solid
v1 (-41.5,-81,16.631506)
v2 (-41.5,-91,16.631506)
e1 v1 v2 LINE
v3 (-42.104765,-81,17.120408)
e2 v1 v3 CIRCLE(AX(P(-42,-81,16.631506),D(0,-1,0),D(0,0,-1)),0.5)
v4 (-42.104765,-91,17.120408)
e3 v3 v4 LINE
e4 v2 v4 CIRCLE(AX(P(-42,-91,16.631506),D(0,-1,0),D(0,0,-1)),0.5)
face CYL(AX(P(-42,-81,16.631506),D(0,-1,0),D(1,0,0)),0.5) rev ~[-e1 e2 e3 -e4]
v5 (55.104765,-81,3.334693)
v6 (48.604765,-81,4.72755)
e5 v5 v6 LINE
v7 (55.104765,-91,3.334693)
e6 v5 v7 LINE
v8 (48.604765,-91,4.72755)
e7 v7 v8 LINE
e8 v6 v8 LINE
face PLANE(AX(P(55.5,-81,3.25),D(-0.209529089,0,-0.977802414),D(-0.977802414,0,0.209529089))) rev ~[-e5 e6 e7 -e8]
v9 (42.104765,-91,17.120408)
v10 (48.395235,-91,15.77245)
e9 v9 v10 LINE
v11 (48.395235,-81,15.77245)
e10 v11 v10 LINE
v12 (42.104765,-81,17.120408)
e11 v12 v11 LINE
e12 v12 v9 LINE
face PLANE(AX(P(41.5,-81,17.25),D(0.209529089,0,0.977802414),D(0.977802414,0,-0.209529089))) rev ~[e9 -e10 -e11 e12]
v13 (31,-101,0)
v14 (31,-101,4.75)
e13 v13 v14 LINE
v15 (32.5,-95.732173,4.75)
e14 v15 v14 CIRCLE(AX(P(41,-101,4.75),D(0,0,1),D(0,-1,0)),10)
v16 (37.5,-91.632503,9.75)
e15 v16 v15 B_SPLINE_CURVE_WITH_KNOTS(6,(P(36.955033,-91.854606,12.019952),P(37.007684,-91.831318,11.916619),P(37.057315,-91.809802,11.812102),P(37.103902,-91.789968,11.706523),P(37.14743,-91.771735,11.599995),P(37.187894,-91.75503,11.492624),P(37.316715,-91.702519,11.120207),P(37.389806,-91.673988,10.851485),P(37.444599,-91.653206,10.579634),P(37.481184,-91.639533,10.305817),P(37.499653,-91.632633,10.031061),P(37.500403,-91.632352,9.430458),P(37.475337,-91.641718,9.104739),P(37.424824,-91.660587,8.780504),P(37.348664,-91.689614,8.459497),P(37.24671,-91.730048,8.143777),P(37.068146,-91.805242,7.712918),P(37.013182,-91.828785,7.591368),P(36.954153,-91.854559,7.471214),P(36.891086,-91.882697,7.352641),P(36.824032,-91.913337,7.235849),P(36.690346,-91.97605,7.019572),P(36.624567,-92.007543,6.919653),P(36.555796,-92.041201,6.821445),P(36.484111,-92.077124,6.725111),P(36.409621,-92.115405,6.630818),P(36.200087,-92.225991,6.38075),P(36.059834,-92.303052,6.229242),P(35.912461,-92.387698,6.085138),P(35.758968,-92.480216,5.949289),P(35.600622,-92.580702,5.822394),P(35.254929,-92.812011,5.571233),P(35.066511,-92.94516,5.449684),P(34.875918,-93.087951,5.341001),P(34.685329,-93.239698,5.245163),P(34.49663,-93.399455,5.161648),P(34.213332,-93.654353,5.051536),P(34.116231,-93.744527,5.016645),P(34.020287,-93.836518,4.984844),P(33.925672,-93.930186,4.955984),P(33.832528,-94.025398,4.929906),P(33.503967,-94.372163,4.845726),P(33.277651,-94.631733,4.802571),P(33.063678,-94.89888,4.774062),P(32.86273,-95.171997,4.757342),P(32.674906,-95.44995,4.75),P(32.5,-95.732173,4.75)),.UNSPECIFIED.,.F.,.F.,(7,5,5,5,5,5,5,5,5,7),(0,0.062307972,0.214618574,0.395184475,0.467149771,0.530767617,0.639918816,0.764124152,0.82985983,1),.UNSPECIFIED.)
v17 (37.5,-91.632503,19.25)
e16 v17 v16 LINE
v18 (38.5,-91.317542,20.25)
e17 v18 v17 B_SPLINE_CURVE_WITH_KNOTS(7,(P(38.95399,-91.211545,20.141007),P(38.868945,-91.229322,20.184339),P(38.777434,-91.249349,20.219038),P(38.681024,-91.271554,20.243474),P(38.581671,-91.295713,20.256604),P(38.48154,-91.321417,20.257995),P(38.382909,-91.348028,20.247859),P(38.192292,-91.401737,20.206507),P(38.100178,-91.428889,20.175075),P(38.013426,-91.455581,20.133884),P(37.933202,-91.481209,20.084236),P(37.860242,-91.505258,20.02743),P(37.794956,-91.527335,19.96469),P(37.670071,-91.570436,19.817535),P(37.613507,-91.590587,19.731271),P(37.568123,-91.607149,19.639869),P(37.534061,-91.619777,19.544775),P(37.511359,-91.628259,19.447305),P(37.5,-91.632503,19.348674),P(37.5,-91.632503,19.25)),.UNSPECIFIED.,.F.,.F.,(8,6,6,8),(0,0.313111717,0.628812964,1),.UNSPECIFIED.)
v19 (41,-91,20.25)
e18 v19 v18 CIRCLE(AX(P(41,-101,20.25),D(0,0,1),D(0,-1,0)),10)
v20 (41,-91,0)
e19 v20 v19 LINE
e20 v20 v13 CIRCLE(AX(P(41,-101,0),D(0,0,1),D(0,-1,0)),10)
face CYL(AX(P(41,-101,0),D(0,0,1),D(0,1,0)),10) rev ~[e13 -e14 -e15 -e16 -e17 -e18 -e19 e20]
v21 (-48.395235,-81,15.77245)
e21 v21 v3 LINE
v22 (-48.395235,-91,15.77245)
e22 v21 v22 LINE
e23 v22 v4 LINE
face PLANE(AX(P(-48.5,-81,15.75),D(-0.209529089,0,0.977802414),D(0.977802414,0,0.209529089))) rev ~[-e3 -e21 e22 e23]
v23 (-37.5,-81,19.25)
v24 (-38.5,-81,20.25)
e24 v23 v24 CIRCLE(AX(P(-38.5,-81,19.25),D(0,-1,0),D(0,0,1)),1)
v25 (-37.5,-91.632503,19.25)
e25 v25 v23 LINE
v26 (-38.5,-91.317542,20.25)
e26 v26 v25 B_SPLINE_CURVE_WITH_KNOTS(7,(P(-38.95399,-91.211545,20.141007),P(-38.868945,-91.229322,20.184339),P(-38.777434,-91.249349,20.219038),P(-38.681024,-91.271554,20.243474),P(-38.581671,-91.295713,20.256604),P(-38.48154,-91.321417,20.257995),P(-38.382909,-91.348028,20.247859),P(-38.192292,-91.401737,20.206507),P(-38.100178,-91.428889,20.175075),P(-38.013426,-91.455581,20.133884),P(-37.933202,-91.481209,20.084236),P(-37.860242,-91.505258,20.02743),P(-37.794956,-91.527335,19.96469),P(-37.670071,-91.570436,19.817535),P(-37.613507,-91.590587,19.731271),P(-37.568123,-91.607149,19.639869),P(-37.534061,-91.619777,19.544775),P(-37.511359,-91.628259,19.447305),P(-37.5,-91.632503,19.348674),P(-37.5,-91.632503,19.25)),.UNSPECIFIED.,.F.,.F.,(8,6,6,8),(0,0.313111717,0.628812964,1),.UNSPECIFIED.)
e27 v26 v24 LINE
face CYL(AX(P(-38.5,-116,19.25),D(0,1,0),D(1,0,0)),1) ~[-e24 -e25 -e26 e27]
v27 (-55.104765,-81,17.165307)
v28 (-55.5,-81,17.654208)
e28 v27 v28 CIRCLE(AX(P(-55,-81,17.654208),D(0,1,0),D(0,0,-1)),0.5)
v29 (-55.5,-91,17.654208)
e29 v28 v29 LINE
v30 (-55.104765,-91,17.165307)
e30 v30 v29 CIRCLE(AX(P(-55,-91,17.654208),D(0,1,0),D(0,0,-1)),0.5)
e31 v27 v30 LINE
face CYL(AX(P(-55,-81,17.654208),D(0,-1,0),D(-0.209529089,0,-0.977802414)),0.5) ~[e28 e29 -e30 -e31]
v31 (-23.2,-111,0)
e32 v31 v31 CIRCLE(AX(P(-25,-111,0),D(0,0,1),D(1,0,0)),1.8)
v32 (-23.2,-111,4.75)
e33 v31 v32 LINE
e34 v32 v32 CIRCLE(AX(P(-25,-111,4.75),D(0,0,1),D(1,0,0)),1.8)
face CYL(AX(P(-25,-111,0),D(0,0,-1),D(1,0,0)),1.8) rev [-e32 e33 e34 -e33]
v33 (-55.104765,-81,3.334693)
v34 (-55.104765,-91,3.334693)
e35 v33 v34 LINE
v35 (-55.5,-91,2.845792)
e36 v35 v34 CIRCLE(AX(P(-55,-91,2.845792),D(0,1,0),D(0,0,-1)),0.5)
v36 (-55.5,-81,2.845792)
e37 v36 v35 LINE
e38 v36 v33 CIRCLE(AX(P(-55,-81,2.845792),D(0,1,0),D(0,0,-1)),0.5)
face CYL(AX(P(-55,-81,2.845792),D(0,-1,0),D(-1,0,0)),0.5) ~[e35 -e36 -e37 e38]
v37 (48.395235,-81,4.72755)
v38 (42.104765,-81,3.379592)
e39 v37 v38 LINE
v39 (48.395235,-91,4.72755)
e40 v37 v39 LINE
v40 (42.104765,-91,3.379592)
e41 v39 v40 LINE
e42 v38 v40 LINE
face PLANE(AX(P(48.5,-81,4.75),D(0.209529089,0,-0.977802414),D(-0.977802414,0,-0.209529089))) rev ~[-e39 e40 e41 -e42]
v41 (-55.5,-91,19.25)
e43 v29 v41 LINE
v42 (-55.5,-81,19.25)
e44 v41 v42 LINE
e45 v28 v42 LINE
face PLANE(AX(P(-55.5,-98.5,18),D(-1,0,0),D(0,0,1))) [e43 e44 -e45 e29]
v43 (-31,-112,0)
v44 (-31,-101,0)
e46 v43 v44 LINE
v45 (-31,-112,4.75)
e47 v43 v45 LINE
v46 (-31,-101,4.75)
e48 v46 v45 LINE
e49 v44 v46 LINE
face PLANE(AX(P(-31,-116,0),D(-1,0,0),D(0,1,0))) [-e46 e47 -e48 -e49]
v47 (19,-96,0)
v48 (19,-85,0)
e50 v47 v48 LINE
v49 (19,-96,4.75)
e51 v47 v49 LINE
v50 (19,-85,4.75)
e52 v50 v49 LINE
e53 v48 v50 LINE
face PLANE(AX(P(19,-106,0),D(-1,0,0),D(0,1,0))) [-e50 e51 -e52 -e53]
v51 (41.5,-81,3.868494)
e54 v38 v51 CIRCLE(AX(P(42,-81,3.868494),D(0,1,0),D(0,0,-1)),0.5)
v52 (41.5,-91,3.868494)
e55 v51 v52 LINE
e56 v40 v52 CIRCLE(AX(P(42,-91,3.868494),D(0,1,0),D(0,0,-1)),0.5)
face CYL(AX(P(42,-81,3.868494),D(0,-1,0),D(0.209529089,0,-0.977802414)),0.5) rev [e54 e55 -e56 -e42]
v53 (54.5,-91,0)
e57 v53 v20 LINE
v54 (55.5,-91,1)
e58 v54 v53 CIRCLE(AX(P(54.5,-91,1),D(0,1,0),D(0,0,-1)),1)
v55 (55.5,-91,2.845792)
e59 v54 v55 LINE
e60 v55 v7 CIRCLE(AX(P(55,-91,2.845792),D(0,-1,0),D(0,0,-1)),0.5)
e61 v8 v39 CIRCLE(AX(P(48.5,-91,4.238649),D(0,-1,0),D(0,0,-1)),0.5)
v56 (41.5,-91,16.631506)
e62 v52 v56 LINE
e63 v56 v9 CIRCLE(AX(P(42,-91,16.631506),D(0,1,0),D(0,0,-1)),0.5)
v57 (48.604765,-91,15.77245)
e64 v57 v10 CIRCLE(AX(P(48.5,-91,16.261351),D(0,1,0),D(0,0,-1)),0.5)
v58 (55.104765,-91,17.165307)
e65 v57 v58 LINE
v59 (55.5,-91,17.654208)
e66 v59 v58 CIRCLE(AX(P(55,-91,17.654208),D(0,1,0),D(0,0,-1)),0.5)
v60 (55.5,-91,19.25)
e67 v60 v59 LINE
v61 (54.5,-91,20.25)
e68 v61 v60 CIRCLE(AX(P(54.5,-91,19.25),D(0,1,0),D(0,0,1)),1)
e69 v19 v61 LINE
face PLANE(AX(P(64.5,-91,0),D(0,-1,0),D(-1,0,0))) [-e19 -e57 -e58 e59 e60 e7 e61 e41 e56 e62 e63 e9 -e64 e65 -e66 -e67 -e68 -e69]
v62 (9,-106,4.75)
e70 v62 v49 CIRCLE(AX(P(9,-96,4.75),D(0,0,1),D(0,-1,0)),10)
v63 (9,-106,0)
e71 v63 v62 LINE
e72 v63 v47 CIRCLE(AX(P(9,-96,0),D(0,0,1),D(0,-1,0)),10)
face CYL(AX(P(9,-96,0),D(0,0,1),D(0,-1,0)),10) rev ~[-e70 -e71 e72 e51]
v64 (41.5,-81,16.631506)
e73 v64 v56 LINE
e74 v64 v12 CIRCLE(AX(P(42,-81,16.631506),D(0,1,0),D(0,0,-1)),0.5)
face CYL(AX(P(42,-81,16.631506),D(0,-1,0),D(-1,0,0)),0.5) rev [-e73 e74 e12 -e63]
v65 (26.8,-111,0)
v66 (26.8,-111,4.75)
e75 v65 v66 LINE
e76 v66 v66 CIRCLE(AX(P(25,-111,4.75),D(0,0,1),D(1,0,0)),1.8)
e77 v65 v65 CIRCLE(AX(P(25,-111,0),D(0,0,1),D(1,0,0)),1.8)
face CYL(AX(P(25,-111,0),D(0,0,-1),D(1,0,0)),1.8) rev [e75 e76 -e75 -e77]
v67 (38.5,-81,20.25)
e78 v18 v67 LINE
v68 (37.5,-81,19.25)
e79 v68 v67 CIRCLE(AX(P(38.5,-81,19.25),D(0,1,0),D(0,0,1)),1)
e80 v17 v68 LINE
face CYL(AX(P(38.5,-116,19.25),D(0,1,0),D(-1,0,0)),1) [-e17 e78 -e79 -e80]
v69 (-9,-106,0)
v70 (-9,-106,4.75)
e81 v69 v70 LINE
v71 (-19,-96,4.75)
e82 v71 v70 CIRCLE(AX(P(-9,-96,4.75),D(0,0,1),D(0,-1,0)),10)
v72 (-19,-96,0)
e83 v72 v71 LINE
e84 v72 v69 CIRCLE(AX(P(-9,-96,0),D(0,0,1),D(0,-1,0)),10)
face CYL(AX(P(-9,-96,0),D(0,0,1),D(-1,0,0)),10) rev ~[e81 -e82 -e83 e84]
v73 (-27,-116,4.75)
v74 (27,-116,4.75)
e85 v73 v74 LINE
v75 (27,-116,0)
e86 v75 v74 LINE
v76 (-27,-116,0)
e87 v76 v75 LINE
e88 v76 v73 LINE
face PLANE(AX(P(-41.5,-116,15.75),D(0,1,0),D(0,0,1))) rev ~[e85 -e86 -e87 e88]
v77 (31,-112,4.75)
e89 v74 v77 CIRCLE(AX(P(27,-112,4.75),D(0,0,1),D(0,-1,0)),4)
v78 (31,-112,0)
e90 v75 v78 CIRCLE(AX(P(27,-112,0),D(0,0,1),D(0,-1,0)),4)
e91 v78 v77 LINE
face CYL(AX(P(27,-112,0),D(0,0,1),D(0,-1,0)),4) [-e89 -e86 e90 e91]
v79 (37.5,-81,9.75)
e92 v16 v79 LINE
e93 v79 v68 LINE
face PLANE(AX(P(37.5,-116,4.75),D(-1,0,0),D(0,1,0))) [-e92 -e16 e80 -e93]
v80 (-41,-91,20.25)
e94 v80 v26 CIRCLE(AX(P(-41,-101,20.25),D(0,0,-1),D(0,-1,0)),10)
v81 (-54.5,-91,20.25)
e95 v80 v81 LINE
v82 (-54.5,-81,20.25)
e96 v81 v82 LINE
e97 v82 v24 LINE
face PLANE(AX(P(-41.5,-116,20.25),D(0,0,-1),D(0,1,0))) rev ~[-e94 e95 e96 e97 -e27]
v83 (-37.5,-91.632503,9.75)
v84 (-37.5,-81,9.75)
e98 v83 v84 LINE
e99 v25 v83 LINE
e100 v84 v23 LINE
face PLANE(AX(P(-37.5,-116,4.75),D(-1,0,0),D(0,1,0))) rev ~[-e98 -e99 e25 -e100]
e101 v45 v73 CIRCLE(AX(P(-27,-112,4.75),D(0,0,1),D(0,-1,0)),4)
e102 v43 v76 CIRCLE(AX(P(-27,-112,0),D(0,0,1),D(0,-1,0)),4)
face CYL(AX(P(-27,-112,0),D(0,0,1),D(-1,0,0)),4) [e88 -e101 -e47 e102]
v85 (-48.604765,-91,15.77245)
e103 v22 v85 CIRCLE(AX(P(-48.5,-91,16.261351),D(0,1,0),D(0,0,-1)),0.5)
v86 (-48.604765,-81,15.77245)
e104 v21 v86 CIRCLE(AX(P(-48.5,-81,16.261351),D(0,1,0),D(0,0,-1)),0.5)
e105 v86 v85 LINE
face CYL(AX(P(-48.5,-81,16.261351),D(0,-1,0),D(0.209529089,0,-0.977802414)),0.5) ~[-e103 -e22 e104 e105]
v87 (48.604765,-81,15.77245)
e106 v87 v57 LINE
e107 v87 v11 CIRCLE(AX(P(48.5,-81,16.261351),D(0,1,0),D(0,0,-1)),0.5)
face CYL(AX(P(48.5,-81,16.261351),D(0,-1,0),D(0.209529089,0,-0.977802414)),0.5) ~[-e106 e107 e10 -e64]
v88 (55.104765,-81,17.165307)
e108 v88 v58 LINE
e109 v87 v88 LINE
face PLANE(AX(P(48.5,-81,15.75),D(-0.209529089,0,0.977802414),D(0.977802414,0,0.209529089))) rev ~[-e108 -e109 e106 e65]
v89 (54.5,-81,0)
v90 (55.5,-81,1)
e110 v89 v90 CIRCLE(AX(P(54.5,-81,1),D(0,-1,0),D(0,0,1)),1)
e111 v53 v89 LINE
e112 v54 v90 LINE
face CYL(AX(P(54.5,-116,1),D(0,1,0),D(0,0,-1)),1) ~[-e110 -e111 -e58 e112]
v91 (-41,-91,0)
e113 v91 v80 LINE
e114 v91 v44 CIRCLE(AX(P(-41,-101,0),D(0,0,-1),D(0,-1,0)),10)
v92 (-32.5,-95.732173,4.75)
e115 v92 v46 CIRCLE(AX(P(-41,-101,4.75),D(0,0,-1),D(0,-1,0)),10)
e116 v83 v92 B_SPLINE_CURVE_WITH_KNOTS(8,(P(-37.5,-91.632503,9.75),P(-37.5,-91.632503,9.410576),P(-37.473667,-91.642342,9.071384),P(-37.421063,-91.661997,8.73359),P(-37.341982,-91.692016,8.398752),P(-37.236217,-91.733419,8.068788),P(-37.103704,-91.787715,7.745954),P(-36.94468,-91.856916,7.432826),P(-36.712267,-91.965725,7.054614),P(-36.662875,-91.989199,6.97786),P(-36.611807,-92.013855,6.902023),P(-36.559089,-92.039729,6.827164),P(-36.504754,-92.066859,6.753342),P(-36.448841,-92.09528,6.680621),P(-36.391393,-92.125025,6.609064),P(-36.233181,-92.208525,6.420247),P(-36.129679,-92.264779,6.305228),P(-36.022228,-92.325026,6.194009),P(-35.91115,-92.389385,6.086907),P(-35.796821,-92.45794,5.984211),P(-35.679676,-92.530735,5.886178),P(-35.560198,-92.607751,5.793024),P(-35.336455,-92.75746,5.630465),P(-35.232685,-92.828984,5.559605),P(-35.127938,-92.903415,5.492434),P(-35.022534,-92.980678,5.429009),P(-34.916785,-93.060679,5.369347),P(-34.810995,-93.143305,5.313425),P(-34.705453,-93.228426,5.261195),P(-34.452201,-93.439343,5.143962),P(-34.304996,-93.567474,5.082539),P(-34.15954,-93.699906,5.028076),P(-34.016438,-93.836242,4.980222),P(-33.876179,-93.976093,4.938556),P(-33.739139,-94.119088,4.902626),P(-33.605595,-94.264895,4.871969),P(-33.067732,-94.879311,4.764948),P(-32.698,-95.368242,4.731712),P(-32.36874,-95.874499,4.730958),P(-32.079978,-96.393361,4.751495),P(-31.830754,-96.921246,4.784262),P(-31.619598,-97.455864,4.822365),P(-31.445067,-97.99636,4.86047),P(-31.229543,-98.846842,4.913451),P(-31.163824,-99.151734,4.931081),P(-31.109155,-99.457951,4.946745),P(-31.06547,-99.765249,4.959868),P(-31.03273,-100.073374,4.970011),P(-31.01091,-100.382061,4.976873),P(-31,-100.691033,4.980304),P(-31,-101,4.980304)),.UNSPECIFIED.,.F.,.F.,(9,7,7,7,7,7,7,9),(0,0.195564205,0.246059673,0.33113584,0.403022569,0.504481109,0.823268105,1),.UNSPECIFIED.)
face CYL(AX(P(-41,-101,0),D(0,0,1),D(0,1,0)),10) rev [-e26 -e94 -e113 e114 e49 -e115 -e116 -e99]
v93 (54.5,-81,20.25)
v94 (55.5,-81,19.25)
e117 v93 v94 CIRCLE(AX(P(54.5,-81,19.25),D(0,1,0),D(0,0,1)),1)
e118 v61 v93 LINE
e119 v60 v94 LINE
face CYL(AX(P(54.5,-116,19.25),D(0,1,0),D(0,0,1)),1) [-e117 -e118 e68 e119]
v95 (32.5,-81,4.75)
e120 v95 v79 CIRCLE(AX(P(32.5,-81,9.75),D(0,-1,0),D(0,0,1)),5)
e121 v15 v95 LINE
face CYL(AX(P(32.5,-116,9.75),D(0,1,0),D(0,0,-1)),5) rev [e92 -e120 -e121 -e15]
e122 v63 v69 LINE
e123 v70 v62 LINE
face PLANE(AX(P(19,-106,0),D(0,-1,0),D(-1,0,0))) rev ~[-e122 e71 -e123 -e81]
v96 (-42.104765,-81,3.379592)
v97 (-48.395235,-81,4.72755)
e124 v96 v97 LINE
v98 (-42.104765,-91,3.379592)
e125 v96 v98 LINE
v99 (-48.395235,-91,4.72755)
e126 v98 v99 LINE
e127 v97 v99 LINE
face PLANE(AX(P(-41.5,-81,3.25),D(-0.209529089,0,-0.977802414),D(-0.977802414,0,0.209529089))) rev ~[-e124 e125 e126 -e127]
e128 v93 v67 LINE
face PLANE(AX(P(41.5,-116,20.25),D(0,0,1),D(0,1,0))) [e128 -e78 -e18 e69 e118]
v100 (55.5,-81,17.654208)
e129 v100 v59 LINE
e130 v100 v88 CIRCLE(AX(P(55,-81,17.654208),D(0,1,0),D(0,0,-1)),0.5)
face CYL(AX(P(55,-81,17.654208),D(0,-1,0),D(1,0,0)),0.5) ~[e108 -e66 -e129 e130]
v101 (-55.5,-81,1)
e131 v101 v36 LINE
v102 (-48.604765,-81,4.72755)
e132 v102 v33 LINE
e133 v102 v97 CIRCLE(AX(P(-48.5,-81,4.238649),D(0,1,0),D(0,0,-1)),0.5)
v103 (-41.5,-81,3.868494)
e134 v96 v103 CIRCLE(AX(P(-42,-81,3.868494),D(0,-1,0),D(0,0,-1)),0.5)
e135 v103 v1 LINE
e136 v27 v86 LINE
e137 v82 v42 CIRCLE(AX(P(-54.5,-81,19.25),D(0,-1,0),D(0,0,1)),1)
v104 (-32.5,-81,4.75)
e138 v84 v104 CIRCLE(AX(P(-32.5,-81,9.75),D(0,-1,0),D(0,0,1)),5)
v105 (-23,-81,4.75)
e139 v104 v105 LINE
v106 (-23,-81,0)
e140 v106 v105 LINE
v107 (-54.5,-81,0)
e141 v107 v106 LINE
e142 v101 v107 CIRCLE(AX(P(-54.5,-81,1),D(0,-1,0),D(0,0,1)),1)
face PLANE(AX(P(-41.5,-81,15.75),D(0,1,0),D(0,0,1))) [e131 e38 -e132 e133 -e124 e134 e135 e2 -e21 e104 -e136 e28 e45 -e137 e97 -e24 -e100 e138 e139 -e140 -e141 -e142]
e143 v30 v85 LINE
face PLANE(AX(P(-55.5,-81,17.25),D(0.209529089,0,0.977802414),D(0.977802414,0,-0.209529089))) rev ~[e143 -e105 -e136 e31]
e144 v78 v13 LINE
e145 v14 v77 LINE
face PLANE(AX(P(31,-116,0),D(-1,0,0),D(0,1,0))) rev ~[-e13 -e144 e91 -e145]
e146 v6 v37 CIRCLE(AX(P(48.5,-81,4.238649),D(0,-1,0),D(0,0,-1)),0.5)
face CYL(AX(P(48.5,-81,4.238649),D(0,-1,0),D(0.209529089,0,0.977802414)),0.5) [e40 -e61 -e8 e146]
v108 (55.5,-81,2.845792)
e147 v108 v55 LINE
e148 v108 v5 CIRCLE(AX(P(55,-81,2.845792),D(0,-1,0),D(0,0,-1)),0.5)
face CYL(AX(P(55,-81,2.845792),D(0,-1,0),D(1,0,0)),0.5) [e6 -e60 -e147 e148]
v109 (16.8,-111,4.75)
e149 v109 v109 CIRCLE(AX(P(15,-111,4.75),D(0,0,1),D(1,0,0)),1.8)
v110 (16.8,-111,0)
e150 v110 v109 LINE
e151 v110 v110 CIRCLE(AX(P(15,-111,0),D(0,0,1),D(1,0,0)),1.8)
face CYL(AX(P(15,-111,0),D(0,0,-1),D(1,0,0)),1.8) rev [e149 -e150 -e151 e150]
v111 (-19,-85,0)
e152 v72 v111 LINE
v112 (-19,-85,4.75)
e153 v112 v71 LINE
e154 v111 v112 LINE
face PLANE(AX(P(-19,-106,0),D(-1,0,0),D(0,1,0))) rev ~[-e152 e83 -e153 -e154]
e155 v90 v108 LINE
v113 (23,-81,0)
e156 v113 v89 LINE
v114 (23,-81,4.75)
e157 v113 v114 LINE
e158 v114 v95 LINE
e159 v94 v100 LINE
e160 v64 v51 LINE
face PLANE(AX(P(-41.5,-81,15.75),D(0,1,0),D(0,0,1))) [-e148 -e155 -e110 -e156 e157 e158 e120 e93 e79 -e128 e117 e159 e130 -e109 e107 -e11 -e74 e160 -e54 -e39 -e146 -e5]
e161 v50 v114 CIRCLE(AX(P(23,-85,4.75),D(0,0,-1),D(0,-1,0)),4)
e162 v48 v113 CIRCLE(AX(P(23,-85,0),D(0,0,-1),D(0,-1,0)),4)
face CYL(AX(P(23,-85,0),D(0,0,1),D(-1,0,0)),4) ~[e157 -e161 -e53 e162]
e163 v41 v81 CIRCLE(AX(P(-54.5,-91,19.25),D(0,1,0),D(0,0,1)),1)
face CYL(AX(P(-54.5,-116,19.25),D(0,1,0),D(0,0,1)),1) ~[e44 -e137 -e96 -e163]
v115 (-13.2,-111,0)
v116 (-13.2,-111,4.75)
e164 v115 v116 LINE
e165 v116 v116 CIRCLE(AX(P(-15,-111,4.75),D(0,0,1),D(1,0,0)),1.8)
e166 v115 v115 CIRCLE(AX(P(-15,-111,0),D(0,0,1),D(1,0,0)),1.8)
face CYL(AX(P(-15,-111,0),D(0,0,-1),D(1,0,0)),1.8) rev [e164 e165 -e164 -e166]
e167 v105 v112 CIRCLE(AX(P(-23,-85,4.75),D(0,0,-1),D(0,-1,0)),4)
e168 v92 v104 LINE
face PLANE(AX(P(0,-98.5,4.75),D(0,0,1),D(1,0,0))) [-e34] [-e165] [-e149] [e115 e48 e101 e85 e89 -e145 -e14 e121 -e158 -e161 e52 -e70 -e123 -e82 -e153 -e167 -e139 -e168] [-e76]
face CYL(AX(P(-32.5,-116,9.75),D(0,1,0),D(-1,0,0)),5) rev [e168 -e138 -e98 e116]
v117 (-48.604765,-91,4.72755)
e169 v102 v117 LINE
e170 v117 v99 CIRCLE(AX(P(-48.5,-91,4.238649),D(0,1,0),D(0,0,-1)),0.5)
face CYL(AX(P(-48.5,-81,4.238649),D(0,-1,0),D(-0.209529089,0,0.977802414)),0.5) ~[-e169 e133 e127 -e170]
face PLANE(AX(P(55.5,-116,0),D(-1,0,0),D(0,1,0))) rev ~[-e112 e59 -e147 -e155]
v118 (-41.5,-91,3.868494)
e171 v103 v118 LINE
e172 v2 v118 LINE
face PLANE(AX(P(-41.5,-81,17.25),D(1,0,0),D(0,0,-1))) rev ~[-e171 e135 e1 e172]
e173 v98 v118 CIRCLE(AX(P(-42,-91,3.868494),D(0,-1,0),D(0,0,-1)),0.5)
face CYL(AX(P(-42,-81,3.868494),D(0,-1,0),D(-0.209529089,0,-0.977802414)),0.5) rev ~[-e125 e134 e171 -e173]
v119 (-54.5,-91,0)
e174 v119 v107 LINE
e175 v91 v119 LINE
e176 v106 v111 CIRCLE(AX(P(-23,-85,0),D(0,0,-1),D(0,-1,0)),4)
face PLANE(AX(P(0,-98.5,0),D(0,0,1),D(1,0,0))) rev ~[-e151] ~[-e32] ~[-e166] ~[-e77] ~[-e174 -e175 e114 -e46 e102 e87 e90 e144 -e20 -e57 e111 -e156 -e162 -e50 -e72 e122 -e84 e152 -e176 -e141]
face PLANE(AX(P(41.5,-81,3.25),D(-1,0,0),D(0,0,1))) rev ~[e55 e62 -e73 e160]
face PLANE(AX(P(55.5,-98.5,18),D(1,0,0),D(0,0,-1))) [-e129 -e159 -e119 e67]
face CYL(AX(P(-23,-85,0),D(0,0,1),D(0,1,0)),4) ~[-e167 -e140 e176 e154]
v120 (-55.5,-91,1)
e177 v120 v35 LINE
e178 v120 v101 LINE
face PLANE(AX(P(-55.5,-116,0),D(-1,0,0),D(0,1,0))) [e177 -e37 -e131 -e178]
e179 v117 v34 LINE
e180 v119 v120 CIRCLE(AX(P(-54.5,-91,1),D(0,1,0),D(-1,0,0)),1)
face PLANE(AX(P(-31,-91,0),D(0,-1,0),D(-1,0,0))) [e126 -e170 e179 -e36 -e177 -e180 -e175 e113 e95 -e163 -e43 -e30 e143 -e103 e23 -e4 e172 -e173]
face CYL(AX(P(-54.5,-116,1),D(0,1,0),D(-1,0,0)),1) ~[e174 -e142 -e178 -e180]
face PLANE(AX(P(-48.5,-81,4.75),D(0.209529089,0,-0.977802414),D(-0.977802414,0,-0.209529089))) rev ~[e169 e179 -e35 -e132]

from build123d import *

# Parameters (mm, degrees)
SKETCH_1_W          = 111
SKETCH_1_H          = 35
SKETCH_1_R          = 1.8
EXTRUDE_1_DEPTH     = 4.75
SKETCH_2_W          = 4
SKETCH_2_H          = 35
EXTRUDE_2_DEPTH     = 15.5
SKETCH_3_W          = 4.5
SKETCH_3_H          = 35
EXTRUDE_3_DEPTH     = 14
SKETCH_4_W          = 4.5
SKETCH_4_H          = 35
EXTRUDE_4_DEPTH     = 14
FILLET_1_R          = 5
FILLET_2_R          = 1
SKETCH_5_W          = 20
SKETCH_5_H          = 2
CUT_EXTRUDE_1_DEPTH = 1
CUT_EXTRUDE_2_DEPTH = 200
SKETCH_8_W          = 33.5
SKETCH_8_H          = 25
SKETCH_8_W_2        = 38
CUT_EXTRUDE_3_DEPTH = 1000
FILLET_8_R          = 10
FILLET_9_R          = 4
FILLET_10_R         = 0.5


with BuildPart() as part:
    # ｽｹｯﾁ1 → ﾎﾞｽ - 押し出し1 (new body)
    with BuildSketch(Plane.XY):
        with Locations((0, -98.5)):
            Rectangle(SKETCH_1_W, SKETCH_1_H)
        with Locations((25, -111)):
            Circle(SKETCH_1_R, mode=Mode.SUBTRACT)
        with Locations((15, -111)):
            Circle(SKETCH_1_R, mode=Mode.SUBTRACT)
        with Locations((-15, -111)):
            Circle(SKETCH_1_R, mode=Mode.SUBTRACT)
        with Locations((-25, -111)):
            Circle(SKETCH_1_R, mode=Mode.SUBTRACT)
    extrude(amount=EXTRUDE_1_DEPTH)

    # ｽｹｯﾁ2 → ﾎﾞｽ - 押し出し2 (add)
    with BuildSketch(Plane.XY.offset(4.75)):
        with Locations((39.5, -98.5)):
            Rectangle(SKETCH_2_W, SKETCH_2_H)
        with Locations((-39.5, -98.5)):
            Rectangle(SKETCH_2_W, SKETCH_2_H)
    extrude(amount=EXTRUDE_2_DEPTH)

    # ｽｹｯﾁ3 → ﾎﾞｽ - 押し出し3 (add)
    with BuildSketch(Plane(origin=(41.5, 0, 0), x_dir=(0, 0, -1), z_dir=(1, 0, 0))):
        with Locations((-18, -98.5)):
            Rectangle(SKETCH_3_W, SKETCH_3_H)
    extrude(amount=EXTRUDE_3_DEPTH)

    # ｽｹｯﾁ4 → ﾎﾞｽ - 押し出し4 (add)
    with BuildSketch(Plane.ZY.offset(41.5)):
        with Locations((18, -98.5)):
            Rectangle(SKETCH_4_W, SKETCH_4_H)
    extrude(amount=EXTRUDE_4_DEPTH)

    # ﾌｨﾚｯﾄ1
    fillet_1_edges = [part.edges().sort_by_distance(p)[0] for p in [
        (37.5, -98.5, 4.75),
        (-37.5, -98.5, 4.75),
    ]]
    fillet(fillet_1_edges, radius=FILLET_1_R)

    # ﾌｨﾚｯﾄ2
    fillet_2_edges = [part.edges().sort_by_distance(p)[0] for p in [
        (37.5, -98.5, 20.25),
        (-37.5, -98.5, 20.25),
        (-55.5, -98.5, 0),
        (55.5, -98.5, 20.25),
        (55.5, -98.5, 0),
        (-55.5, -98.5, 20.25),
    ]]
    fillet(fillet_2_edges, radius=FILLET_2_R)

    # ｽｹｯﾁ5 → ｶｯﾄ - 押し出し1 (cut)
    with BuildSketch(Plane(origin=(0, -81, 0), x_dir=(1, 0, 0), z_dir=(0, 1, 0))):
        with Locations((0, -3.75)):
            Rectangle(SKETCH_5_W, SKETCH_5_H)
    extrude(amount=-CUT_EXTRUDE_1_DEPTH, mode=Mode.SUBTRACT)

    # ｽｹｯﾁ6 → ｶｯﾄ - 押し出し2 (cut)
    with BuildSketch(Plane(origin=(0, -81, 0), x_dir=(1, 0, 0), z_dir=(0, 1, 0))):
        Polygon((-55.5, -4.75), (-48.5, -4.75), (-55.5, -3.25), align=None)
        Polygon((-41.5, -4.75), (-41.5, -3.25), (-48.5, -4.75), align=None)
        Polygon((-41.5, -15.75), (-48.5, -15.75), (-41.5, -17.25), align=None)
        Polygon((-55.5, -17.25), (-48.5, -15.75), (-55.5, -15.75), align=None)
        Polygon((55.5, -4.75), (55.5, -3.25), (48.5, -4.75), align=None)
        Polygon((41.5, -4.75), (48.5, -4.75), (41.5, -3.25), align=None)
        Polygon((55.5, -15.75), (48.5, -15.75), (55.5, -17.25), align=None)
        Polygon((41.5, -15.75), (41.5, -17.25), (48.5, -15.75), align=None)
    extrude(amount=-CUT_EXTRUDE_2_DEPTH, mode=Mode.SUBTRACT)

    # ｽｹｯﾁ8 → ｶｯﾄ - 押し出し3 (cut)
    with BuildSketch(Plane(origin=(0, 0, 0), x_dir=(-1, 0, 0), z_dir=(0, 0, -1))):
        with Locations((-47.75, -103.5)):
            Rectangle(SKETCH_8_W, SKETCH_8_H)
        with Locations((0, -93.5)):
            Rectangle(SKETCH_8_W_2, SKETCH_8_H)
        with Locations((47.75, -103.5)):
            Rectangle(SKETCH_8_W, SKETCH_8_H)
    extrude(amount=-CUT_EXTRUDE_3_DEPTH, mode=Mode.SUBTRACT)

    # ﾌｨﾚｯﾄ8
    fillet_8_edges = [part.edges().sort_by_distance(p)[0] for p in [
        (-31, -91, 2.375),
        (31, -91, 2.375),
        (-19, -106, 2.375),
        (19, -106, 2.375),
    ]]
    fillet(fillet_8_edges, radius=FILLET_8_R)

    # ﾌｨﾚｯﾄ9
    fillet_9_edges = [part.edges().sort_by_distance(p)[0] for p in [
        (31, -116, 2.375),
        (-31, -116, 2.375),
        (19, -81, 2.375),
        (-19, -81, 2.375),
    ]]
    fillet(fillet_9_edges, radius=FILLET_9_R)

    # ﾌｨﾚｯﾄ10
    fillet_10_edges = [part.edges().sort_by_distance(p)[0] for p in [
        (-55.5, -86, 17.25),
        (48.5, -86, 15.75),
        (55.5, -86, 17.25),
        (48.5, -86, 4.75),
        (41.5, -86, 3.25),
        (-48.5, -86, 15.75),
        (-41.5, -86, 17.25),
        (-41.5, -86, 3.25),
        (-48.5, -86, 4.75),
        (-55.5, -86, 3.25),
        (55.5, -86, 3.25),
        (41.5, -86, 17.25),
    ]]
    fillet(fillet_10_edges, radius=FILLET_10_R)


solid = part.part
